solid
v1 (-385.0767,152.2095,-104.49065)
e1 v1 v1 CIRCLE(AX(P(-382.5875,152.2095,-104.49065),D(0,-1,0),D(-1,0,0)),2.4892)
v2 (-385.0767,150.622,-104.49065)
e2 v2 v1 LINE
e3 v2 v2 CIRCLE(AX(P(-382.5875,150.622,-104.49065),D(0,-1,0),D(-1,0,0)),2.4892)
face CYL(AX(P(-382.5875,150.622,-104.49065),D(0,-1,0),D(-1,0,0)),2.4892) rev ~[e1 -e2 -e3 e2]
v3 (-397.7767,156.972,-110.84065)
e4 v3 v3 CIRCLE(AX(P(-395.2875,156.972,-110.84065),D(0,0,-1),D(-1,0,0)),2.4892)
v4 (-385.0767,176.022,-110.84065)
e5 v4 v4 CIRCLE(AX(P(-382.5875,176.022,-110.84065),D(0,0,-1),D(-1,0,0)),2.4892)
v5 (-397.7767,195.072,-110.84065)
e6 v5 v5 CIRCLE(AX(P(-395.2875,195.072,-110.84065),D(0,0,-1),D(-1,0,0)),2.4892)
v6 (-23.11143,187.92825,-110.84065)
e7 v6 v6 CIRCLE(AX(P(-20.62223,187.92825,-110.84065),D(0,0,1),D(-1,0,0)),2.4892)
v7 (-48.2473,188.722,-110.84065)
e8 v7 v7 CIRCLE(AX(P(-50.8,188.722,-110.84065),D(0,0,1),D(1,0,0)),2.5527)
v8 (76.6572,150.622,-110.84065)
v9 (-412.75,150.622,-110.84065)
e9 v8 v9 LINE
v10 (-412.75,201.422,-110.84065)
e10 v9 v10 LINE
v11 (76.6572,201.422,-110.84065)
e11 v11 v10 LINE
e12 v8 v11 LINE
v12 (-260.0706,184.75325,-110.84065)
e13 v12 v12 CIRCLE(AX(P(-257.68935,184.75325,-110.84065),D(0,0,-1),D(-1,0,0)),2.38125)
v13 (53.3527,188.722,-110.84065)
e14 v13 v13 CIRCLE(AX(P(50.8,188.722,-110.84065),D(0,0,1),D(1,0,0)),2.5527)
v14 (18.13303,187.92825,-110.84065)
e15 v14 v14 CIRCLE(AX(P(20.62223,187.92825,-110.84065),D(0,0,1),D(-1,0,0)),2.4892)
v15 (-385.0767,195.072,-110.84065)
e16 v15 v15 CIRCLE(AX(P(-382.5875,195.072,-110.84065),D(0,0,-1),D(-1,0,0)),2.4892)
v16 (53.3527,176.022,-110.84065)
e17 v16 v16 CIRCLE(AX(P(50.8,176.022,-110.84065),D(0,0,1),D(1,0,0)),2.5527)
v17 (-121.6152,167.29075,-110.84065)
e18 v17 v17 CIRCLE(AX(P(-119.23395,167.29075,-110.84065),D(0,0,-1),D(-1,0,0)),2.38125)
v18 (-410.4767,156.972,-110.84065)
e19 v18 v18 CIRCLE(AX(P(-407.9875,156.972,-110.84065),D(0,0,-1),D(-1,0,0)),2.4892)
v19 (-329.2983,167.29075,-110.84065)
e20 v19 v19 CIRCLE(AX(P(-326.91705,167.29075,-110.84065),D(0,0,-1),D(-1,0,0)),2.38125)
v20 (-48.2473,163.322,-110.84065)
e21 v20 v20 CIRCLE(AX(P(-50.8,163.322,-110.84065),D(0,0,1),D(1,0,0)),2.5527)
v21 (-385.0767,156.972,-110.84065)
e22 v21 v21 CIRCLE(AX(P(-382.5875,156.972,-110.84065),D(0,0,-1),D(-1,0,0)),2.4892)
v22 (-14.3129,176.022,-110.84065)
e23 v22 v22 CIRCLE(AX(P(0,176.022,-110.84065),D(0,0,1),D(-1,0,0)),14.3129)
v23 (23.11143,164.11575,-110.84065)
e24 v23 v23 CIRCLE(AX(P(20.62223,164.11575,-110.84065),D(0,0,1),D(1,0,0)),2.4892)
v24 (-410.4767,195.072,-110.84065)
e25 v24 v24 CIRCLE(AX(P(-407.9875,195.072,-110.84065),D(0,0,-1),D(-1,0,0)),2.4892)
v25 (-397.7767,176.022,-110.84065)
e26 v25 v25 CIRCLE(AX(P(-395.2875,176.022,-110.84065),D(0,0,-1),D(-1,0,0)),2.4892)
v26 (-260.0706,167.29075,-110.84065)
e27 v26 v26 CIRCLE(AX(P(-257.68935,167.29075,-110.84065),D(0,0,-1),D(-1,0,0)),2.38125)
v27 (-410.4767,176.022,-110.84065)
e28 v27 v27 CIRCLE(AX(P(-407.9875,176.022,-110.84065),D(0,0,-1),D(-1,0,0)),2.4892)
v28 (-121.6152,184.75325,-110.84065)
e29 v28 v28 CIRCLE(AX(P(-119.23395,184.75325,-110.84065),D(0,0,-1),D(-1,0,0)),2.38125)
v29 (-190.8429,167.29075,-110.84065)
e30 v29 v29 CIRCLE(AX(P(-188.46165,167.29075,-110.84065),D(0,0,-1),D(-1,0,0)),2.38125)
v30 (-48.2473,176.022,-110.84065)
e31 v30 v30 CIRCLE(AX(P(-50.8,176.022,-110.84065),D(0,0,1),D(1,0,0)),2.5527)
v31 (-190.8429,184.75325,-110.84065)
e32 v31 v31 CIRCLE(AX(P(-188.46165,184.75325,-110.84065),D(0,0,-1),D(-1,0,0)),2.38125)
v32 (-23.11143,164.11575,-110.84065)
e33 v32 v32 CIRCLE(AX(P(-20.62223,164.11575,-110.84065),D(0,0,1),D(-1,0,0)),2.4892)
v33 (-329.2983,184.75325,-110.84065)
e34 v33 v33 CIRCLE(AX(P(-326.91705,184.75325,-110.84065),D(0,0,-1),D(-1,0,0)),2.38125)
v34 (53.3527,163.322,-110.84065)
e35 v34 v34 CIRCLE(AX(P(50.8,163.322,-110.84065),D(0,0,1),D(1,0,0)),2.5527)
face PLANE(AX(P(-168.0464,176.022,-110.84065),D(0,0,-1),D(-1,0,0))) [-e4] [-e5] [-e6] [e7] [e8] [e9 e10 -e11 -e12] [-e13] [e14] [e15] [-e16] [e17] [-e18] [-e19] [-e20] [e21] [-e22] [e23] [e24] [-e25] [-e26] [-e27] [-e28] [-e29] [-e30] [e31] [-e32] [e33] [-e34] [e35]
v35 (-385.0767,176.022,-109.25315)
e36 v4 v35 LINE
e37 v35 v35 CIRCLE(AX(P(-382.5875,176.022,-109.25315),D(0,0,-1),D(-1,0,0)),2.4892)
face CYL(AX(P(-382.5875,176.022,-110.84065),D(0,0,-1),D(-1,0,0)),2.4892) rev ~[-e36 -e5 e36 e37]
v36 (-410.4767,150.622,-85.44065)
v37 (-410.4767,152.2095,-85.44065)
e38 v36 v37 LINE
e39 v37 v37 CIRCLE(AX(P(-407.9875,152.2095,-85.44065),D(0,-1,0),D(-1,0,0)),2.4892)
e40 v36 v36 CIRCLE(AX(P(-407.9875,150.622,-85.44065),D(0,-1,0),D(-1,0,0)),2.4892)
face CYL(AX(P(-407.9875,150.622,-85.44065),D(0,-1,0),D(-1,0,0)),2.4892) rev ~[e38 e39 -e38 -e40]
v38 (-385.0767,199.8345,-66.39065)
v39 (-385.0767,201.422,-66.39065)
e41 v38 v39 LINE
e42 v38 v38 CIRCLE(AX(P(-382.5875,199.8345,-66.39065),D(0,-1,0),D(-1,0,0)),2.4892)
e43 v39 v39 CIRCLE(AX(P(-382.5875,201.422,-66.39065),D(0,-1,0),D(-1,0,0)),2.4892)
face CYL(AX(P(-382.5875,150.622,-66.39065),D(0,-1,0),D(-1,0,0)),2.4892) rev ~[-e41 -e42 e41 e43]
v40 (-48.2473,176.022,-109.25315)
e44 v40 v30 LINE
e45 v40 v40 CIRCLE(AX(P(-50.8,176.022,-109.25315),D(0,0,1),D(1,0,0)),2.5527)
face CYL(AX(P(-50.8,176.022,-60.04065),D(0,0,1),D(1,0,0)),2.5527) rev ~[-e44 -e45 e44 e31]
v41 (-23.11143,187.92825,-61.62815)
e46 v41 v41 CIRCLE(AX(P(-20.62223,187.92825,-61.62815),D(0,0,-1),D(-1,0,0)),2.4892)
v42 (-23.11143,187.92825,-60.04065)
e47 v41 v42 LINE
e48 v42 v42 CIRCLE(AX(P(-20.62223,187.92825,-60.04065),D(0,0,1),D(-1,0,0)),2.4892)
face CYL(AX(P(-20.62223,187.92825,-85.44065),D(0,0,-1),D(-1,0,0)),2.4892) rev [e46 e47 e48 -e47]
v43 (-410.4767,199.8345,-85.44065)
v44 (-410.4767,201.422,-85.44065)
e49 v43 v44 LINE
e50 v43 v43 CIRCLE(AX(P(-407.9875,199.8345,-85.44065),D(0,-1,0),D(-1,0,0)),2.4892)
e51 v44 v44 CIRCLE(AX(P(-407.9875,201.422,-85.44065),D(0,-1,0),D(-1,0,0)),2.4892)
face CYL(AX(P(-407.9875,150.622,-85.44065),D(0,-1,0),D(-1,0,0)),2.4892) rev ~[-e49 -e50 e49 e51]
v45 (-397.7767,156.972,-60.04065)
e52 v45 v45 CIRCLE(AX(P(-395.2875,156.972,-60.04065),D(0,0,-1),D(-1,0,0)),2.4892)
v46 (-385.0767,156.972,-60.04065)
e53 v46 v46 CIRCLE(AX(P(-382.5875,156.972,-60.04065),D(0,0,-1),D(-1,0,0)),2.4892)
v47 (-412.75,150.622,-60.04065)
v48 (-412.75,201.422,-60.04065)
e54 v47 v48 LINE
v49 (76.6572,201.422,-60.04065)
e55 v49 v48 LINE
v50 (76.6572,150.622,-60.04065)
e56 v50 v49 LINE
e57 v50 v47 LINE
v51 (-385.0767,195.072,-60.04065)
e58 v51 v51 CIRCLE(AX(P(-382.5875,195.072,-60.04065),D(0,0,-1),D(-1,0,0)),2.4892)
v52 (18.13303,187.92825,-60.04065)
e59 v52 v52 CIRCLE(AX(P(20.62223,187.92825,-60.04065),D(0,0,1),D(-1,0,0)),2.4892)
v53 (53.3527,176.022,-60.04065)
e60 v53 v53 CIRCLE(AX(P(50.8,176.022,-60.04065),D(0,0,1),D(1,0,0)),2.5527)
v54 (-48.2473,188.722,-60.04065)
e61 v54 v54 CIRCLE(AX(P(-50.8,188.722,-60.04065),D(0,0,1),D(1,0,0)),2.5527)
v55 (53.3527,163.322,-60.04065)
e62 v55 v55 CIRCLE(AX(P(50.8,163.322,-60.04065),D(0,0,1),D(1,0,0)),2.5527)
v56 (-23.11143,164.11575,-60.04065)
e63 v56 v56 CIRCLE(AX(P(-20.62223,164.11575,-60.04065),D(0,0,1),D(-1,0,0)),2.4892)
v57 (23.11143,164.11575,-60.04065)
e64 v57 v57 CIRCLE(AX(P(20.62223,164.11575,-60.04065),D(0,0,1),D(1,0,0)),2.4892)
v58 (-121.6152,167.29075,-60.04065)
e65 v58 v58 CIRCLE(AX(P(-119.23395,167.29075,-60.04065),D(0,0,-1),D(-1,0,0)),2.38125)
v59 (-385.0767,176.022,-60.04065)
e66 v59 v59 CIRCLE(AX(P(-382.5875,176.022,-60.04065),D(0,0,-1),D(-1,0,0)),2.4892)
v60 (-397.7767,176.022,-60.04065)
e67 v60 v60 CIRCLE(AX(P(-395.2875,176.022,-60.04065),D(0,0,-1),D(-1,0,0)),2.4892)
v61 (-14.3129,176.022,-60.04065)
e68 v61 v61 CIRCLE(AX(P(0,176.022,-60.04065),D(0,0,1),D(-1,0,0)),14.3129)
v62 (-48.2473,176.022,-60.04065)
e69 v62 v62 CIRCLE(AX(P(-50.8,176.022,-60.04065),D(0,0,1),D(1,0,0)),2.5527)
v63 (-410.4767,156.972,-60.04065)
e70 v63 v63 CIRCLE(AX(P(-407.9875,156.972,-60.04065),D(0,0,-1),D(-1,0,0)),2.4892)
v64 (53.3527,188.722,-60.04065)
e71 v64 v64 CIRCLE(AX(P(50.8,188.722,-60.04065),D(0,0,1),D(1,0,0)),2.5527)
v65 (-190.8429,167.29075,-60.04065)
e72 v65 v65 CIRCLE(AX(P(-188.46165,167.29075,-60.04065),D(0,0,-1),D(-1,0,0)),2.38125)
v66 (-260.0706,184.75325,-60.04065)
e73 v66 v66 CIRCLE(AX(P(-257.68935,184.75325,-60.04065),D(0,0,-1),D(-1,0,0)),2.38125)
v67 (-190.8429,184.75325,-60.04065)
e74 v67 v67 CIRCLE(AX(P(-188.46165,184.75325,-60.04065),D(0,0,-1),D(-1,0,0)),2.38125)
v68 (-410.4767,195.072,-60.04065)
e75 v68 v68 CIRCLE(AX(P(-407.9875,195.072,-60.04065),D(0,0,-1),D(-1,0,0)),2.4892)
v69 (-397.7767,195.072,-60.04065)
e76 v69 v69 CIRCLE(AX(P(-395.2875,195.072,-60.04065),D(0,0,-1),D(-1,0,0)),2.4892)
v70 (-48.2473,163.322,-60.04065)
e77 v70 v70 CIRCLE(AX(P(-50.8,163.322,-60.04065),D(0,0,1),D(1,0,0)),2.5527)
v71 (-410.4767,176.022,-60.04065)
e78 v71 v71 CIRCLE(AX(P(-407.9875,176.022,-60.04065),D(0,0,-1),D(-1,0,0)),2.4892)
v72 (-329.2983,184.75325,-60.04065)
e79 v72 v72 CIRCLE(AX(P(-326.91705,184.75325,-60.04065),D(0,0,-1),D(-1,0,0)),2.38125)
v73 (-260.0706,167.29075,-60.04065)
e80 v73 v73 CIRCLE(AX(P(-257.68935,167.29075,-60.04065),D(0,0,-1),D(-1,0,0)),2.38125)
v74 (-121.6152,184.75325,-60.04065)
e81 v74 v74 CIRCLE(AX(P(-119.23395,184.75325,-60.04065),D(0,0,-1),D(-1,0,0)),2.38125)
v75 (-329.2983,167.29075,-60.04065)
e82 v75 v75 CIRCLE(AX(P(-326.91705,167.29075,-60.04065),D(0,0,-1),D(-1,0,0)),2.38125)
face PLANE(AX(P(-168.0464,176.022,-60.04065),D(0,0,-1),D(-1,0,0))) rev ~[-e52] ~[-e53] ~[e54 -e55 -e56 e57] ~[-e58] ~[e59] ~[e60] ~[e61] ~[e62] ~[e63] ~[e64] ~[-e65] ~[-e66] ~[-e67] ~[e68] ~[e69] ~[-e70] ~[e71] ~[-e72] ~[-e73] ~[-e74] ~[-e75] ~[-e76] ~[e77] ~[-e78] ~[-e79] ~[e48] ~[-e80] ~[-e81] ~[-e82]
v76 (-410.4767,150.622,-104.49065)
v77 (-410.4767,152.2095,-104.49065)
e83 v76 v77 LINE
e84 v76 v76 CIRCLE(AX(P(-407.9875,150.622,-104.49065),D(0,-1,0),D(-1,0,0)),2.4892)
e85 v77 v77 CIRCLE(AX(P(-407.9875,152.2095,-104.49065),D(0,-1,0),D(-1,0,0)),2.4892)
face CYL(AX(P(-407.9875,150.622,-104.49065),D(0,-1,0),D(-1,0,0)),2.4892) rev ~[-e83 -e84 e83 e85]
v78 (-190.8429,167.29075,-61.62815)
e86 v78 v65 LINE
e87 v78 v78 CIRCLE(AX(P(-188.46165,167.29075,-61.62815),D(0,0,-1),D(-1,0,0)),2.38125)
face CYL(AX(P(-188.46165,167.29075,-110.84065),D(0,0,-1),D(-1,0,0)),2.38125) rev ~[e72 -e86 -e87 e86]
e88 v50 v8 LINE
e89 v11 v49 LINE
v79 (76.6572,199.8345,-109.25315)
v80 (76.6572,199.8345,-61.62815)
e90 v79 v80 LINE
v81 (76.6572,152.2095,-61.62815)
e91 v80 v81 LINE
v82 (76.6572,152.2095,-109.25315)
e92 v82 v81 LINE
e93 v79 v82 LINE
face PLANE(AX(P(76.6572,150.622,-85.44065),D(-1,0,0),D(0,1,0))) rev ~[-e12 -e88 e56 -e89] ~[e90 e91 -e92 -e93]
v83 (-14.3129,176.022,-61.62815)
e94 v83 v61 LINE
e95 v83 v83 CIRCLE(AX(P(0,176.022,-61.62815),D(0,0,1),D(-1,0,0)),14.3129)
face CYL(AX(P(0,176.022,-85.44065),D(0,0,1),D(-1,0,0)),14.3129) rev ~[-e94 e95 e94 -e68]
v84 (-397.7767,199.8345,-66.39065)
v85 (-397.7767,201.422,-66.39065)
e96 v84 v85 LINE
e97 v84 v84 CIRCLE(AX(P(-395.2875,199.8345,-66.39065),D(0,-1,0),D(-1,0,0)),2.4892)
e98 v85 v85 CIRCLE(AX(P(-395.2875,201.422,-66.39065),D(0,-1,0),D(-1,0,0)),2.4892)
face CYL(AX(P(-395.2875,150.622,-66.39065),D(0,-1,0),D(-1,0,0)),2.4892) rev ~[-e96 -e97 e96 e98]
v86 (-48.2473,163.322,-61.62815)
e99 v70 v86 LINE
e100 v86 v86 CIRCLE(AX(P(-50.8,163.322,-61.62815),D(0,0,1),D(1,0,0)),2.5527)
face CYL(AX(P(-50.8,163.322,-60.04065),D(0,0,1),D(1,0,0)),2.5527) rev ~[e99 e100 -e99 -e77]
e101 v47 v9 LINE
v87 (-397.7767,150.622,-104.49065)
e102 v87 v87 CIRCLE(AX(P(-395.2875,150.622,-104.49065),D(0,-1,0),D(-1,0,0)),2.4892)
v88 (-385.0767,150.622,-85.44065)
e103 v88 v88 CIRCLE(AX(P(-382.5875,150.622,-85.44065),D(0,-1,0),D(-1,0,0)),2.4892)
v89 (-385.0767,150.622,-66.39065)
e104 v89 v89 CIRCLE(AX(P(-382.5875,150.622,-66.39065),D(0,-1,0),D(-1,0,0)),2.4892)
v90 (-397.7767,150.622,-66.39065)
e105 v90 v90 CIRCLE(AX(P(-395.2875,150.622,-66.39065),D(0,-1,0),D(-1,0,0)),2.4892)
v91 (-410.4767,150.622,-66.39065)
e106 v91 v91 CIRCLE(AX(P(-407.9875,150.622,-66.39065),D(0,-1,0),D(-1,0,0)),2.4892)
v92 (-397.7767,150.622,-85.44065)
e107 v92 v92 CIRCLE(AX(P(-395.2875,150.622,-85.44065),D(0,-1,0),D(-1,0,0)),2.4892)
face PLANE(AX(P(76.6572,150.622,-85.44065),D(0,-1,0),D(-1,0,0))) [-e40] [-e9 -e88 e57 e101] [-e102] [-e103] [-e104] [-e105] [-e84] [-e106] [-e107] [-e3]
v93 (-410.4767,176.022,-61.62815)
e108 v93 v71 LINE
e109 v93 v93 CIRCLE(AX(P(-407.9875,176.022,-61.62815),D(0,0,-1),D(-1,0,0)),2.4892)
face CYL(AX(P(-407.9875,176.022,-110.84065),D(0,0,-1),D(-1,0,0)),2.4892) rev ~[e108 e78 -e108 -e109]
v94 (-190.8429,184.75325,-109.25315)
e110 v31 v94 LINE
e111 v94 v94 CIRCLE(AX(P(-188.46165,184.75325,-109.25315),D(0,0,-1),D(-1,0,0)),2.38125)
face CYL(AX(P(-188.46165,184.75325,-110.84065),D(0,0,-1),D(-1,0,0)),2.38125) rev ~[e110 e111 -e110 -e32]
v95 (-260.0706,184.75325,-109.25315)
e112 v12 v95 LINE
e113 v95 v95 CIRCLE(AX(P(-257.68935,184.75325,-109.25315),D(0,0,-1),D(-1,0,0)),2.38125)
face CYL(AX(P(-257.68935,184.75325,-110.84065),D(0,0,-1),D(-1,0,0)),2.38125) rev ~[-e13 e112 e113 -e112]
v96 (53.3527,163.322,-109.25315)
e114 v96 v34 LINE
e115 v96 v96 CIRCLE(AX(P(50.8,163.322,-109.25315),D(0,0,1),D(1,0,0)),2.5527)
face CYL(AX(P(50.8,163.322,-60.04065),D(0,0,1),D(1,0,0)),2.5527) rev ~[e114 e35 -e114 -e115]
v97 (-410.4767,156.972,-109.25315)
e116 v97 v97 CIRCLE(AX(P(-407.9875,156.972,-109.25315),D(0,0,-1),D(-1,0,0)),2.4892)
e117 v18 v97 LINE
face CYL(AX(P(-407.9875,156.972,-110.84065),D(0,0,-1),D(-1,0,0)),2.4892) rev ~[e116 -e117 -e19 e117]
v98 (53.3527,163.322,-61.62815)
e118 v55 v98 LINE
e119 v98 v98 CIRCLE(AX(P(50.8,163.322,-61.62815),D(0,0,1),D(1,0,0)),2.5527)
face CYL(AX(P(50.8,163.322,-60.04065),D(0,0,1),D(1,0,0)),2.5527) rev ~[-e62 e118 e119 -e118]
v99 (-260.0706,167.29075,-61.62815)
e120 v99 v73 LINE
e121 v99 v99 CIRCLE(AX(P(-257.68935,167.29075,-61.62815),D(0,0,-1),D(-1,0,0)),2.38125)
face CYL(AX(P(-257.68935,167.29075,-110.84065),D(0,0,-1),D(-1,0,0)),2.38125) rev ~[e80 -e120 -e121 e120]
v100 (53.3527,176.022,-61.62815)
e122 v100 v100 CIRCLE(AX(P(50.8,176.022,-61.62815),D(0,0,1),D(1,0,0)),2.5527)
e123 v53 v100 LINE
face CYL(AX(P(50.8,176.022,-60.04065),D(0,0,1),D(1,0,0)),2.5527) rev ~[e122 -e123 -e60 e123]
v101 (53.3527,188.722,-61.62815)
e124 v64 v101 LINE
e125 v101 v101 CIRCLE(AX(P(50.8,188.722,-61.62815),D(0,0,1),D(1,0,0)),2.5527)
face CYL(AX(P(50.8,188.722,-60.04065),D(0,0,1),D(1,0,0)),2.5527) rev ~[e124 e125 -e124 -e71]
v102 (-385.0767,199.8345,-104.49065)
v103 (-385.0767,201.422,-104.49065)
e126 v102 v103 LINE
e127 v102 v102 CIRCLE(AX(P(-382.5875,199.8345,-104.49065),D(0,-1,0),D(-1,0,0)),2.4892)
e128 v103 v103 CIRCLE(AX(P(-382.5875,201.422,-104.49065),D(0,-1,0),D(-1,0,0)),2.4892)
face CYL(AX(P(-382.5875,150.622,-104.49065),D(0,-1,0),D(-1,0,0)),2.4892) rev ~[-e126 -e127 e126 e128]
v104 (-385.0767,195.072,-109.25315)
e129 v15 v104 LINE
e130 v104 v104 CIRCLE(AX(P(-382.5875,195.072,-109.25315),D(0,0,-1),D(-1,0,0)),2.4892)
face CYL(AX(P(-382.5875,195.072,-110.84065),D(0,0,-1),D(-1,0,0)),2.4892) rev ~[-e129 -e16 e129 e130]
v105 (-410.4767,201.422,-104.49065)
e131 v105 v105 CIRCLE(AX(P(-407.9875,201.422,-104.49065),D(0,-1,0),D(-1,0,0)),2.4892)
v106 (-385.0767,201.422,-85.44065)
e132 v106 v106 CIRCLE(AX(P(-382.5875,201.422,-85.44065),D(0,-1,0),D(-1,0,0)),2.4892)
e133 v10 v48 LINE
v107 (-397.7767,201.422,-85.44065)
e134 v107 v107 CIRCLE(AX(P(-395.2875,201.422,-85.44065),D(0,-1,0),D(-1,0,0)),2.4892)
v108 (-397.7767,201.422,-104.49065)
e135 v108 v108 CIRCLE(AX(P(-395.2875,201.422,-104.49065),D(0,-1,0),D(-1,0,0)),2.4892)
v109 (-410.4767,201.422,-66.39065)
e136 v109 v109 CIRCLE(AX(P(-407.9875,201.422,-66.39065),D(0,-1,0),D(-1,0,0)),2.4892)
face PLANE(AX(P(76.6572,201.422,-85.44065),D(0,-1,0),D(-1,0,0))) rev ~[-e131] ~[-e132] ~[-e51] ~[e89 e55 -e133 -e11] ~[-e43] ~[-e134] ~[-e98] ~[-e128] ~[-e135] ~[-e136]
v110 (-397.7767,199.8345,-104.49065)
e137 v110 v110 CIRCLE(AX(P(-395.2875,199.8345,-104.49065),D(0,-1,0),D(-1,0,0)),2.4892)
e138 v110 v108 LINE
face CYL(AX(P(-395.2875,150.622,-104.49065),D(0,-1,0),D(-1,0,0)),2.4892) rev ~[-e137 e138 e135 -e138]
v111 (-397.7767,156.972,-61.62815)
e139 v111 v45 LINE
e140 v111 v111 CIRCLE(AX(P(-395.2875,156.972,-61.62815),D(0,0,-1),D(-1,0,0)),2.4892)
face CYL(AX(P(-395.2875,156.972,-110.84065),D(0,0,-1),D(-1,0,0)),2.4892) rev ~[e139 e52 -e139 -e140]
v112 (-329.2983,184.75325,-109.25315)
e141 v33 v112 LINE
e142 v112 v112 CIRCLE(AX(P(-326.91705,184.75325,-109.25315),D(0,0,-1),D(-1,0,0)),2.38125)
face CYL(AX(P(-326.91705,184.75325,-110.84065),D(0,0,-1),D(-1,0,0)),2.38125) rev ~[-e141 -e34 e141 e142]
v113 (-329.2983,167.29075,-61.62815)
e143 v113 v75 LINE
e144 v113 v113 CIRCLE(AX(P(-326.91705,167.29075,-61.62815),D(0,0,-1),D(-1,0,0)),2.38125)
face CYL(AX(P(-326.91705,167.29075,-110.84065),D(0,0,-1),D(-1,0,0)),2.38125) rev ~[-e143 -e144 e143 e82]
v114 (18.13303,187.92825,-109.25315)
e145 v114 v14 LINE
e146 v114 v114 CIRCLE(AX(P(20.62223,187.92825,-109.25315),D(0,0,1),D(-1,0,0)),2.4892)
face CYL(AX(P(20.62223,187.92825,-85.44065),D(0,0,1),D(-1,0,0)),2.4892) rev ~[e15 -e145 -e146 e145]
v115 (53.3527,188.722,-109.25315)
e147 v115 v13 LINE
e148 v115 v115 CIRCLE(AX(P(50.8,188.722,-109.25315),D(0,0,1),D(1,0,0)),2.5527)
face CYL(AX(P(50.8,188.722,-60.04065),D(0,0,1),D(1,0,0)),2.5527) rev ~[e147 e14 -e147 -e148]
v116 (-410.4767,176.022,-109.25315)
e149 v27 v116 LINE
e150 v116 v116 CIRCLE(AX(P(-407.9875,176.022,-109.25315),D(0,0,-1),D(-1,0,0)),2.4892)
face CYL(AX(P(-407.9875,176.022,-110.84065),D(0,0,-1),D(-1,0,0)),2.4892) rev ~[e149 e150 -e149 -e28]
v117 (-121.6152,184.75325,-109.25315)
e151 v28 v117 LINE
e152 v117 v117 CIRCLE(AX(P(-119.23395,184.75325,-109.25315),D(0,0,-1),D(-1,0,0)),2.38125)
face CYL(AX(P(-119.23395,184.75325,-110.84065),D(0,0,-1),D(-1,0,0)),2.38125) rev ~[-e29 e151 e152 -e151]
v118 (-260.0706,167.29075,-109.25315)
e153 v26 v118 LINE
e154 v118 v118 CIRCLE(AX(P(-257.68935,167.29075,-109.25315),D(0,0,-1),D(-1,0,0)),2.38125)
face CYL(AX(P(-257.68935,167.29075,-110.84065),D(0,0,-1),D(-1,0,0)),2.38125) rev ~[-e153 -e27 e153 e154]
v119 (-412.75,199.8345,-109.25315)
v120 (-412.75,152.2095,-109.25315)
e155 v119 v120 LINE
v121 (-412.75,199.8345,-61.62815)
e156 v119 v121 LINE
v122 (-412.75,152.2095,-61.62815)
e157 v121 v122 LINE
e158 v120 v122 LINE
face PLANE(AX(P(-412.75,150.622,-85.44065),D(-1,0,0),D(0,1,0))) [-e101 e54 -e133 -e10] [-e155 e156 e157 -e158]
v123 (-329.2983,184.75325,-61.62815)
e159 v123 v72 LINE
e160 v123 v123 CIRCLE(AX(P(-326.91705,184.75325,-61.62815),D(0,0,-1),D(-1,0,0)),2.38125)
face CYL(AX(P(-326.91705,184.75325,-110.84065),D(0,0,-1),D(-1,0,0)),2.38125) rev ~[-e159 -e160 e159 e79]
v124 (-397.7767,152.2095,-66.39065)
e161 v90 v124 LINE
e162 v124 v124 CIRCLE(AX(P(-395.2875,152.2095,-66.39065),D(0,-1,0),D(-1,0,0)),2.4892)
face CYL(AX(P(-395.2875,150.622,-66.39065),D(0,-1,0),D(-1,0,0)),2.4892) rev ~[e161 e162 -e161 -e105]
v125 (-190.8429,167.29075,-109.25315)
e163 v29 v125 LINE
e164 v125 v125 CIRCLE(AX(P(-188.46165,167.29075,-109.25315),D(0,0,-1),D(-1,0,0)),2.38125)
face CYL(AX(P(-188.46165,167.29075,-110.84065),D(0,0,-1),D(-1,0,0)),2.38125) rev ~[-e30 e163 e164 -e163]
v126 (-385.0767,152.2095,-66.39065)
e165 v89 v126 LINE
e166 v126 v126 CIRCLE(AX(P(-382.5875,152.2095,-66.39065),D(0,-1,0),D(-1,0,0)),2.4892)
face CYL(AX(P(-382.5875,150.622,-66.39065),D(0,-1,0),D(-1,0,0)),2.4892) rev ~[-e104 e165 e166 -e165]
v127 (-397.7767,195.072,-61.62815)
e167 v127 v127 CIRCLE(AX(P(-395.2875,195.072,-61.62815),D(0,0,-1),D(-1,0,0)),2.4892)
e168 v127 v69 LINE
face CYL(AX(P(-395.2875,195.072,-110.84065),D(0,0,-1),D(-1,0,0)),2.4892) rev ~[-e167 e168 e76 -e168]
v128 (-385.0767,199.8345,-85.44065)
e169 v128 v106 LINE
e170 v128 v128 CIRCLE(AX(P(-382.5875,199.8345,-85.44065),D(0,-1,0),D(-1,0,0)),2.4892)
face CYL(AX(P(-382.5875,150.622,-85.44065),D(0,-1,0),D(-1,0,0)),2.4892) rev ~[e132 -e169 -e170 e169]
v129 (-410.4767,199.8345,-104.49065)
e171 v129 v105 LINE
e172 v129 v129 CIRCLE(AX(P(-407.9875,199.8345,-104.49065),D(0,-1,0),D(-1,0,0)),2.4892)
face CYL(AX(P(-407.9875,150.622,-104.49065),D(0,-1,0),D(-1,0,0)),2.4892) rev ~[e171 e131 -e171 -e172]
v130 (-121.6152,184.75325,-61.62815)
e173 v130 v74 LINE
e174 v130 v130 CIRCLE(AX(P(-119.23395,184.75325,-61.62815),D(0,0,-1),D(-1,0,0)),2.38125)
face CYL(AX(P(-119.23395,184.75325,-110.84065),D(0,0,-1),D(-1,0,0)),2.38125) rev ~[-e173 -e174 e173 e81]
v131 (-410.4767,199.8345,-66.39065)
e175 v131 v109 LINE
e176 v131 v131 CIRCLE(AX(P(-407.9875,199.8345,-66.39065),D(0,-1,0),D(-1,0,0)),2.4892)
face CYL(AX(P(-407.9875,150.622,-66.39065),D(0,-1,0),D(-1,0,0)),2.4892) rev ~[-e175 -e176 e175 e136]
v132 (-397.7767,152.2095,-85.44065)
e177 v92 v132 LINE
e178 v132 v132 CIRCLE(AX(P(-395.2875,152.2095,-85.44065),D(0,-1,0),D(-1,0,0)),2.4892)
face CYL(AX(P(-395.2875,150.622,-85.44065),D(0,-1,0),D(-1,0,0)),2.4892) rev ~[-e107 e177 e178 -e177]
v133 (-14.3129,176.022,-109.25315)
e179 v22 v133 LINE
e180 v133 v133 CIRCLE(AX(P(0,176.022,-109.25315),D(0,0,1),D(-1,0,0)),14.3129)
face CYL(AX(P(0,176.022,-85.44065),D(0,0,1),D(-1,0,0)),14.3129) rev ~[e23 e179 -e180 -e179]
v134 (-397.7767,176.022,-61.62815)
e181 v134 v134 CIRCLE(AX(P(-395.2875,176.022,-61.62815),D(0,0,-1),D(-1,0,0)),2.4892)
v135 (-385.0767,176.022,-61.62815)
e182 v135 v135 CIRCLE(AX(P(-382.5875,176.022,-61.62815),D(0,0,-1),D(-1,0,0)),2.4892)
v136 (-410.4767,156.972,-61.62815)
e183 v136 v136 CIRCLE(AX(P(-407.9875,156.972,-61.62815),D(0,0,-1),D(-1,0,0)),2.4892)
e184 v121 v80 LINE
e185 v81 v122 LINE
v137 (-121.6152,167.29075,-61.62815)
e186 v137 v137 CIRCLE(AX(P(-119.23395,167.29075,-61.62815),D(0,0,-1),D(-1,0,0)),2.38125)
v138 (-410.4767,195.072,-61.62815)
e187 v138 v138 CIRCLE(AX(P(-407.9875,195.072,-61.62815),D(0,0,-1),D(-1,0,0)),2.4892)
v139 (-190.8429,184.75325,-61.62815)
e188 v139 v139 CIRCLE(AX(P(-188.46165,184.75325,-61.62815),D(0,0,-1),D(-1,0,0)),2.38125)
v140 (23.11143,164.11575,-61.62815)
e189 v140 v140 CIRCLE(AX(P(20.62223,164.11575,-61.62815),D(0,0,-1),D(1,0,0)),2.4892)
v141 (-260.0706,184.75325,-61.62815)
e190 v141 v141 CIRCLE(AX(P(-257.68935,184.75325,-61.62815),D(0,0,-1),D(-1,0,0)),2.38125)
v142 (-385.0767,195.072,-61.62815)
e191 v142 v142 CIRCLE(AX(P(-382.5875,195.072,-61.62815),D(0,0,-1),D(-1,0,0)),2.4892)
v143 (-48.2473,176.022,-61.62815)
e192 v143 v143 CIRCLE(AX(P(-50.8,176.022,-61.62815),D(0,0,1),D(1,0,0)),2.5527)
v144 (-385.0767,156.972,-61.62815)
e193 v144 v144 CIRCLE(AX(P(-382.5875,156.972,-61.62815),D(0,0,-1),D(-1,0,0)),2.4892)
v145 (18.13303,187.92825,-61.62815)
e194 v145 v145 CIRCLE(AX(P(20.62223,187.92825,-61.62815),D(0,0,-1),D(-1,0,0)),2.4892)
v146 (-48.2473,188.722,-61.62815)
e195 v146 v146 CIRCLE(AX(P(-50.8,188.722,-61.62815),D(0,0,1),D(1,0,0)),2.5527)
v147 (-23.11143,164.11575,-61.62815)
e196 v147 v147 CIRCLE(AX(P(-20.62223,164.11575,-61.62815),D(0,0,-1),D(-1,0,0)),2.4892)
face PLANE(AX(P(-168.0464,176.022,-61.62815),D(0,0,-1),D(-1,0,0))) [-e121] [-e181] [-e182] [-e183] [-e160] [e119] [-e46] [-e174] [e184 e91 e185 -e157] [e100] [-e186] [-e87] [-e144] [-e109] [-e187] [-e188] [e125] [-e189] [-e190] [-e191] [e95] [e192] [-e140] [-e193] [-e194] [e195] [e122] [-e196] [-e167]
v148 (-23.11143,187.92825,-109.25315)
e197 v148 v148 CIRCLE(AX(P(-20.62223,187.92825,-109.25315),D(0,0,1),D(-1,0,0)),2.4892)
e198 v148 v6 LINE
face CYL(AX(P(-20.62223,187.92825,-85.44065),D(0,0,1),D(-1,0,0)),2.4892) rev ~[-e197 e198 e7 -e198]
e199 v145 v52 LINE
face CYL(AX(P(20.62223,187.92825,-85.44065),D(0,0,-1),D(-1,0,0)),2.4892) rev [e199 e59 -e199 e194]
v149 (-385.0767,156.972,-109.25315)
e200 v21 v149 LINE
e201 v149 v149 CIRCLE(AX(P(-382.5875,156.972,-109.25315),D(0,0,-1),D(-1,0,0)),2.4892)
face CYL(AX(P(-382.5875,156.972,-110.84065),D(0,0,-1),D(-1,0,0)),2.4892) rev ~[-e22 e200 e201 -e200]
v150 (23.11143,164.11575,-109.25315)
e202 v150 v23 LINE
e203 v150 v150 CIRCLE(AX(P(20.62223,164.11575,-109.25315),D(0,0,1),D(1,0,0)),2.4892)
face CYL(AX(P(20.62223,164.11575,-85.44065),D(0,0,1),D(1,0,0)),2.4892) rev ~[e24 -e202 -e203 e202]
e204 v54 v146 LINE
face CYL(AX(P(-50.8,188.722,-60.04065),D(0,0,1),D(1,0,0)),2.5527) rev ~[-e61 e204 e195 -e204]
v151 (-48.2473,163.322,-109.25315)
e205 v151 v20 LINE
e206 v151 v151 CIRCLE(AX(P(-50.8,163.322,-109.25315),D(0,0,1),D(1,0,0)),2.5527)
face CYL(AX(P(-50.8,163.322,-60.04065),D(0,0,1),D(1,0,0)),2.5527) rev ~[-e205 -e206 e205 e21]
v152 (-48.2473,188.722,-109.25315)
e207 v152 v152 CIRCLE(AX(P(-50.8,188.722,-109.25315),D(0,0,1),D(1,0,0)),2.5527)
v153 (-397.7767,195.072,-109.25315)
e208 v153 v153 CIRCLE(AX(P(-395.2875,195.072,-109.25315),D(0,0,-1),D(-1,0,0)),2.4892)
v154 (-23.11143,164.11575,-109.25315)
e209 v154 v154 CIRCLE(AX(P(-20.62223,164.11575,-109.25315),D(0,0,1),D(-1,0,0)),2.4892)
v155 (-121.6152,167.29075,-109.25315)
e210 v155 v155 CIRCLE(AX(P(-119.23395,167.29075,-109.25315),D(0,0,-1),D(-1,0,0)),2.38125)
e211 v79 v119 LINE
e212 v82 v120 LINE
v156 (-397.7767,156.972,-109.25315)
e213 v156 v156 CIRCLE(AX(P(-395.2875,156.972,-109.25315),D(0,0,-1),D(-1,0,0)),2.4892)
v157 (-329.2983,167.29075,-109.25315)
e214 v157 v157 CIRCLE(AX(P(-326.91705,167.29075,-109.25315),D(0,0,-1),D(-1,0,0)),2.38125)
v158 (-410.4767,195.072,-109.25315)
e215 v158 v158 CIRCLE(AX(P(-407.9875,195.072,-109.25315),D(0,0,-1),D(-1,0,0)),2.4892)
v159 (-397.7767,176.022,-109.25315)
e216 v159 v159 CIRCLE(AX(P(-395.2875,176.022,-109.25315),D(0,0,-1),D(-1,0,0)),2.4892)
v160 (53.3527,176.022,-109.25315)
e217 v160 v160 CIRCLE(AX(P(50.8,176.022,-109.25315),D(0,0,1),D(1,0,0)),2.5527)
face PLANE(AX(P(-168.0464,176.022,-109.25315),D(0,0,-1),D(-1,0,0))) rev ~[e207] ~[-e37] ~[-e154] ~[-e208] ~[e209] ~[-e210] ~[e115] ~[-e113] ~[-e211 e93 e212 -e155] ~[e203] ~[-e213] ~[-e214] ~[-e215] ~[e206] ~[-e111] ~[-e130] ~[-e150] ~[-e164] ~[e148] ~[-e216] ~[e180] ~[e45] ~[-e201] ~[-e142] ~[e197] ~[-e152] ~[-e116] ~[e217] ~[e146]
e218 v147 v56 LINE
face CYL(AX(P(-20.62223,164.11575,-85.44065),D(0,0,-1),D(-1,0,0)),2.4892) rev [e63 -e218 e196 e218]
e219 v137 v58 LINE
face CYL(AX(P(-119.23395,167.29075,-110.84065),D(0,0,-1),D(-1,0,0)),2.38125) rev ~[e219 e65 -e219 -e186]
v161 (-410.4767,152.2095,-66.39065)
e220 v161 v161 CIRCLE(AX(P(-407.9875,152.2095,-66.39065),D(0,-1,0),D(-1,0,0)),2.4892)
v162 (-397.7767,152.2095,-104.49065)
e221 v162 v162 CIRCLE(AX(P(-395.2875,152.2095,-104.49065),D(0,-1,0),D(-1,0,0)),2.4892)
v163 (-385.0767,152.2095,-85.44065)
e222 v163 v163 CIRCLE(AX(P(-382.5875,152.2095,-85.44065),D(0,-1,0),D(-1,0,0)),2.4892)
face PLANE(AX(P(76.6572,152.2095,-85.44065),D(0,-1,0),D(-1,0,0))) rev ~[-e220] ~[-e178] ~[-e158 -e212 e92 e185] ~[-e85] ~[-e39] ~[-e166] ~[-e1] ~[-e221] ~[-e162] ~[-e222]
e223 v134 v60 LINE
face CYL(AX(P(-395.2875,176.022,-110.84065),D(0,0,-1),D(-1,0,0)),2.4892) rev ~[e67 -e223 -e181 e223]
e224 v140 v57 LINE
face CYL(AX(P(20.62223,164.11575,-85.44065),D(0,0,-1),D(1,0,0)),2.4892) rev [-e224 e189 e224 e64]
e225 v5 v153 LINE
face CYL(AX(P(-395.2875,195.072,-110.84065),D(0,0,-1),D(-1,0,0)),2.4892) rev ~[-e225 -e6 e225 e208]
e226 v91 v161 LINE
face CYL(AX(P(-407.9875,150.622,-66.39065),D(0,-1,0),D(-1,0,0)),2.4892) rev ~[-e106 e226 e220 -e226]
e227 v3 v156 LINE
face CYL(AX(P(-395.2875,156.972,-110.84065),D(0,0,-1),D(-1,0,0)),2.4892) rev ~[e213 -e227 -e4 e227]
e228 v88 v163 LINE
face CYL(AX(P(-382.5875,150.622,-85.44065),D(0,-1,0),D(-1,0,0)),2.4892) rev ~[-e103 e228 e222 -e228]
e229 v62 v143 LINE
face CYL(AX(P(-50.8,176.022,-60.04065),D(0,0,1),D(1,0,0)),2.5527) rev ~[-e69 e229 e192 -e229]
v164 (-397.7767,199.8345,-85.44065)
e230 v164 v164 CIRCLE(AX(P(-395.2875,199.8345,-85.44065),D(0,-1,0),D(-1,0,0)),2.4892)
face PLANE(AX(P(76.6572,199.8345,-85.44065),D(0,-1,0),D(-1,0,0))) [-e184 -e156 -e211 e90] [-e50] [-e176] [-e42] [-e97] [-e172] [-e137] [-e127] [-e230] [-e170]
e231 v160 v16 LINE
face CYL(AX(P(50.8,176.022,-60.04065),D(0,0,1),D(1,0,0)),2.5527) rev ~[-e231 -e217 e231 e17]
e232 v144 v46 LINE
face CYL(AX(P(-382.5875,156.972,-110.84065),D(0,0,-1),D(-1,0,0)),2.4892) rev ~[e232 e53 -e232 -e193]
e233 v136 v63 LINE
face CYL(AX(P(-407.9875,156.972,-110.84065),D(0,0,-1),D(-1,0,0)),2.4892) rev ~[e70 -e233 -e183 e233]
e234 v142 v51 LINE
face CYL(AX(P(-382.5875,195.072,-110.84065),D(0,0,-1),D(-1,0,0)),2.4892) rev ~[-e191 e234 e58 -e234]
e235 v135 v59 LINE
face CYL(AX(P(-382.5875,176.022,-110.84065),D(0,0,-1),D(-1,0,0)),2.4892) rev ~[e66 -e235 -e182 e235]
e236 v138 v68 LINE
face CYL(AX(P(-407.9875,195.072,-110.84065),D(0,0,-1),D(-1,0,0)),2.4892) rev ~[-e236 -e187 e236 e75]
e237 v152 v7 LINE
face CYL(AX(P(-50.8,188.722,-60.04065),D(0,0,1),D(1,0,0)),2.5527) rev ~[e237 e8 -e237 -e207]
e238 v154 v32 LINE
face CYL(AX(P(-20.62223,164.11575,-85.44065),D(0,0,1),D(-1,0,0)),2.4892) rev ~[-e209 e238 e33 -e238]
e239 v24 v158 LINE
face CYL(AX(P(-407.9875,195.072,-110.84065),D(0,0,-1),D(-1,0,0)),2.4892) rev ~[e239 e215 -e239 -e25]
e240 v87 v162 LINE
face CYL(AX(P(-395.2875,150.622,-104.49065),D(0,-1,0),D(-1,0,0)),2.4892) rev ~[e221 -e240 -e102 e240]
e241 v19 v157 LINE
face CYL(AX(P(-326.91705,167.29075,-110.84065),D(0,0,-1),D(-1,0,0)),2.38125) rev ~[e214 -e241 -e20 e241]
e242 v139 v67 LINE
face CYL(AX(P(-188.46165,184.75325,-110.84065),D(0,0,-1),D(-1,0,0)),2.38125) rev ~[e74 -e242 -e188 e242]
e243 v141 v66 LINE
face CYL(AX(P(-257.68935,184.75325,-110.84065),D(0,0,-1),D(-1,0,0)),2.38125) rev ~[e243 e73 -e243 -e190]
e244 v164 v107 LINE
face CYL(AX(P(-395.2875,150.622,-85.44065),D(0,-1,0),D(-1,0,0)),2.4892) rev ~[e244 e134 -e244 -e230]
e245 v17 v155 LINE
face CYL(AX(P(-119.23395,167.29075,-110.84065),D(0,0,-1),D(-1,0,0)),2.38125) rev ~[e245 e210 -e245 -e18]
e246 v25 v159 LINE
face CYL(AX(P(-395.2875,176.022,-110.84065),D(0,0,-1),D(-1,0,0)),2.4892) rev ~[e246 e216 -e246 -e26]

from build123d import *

# Parameters (mm, degrees)
CROQUIS5_W              = 660.4
CROQUIS5_H              = 25.4
SALIENTE_EXTRUIR1_DEPTH = 25.4
CROQUIS6_W              = 50.8
CROQUIS6_H              = 133.35
SALIENTE_EXTRUIR2_DEPTH = 25.4
VACIADO1_T              = -3.175
VACIADO2_T              = -3.175
CROQUIS7_R              = 2.4892
CORTAR_EXTRUIR1_DEPTH   = 402.404309499
CROQUIS9_W              = 489.4072
CROQUIS9_H              = 50.8
SALIENTE_EXTRUIR3_DEPTH = 25.4
VACIADO3_T              = -1.5875
CROQUIS10_R             = 2.4892
CROQUIS10_R_2           = 14.3129
CORTAR_EXTRUIR2_DEPTH   = 25.4
CROQUIS11_R             = 2.5527
CORTAR_EXTRUIR3_DEPTH   = 463.075777967
CROQUIS49_R             = 2.4892
CORTAR_EXTRUIR19_DEPTH  = 463.075777967
MATRIZC1_COUNT          = 2
MATRIZC1_ANGLE          = 90
CROQUIS50_R             = 2.38125
CORTAR_EXTRUIR20_DEPTH  = 463.075777967


with BuildPart() as part:
    # Croquis5 → Saliente-Extruir1 (new body)
    with BuildSketch(Plane.XY):
        with Locations((0, 80.772)):
            Rectangle(CROQUIS5_W, CROQUIS5_H)
    extrude(amount=-SALIENTE_EXTRUIR1_DEPTH)

    # Vaciado2
    vaciado2_openings = [part.faces().sort_by_distance(p)[0] for p in [
        (330.2, 80.772, -12.7),
        (-330.2, 80.772, -12.7),
    ]]
    offset(amount=VACIADO2_T, openings=vaciado2_openings, kind=Kind.INTERSECTION)


with BuildPart() as body_2:
    # Croquis6 → Saliente-Extruir2 (new body)
    with BuildSketch(Plane.XY):
        with Locations((0, 160.147)):
            Rectangle(CROQUIS6_W, CROQUIS6_H)
    extrude(amount=-SALIENTE_EXTRUIR2_DEPTH)

    # Vaciado1
    vaciado1_openings = [body_2.faces().sort_by_distance(p)[0] for p in [
        (0, 226.822, -12.7),
        (0, 93.472, -12.7),
    ]]
    offset(amount=VACIADO1_T, openings=vaciado1_openings, kind=Kind.INTERSECTION)

    # Croquis7 → Cortar-Extruir1 (cut, through all)
    with BuildSketch(Plane.XY):
        with Locations((0, 199.8345)):
            Circle(CROQUIS7_R)
        with Locations((0, 152.2095)):
            Circle(CROQUIS7_R)
        with BuildLine():
            Line((-11.1506, 158.5214), (11.1506, 158.5214))
            ThreePointArc((11.1506, 158.5214), (15.640728061, 160.381271939), (17.5006, 164.8714))
            Line((17.5006, 164.8714), (17.5006, 187.1726))
            ThreePointArc((17.5006, 187.1726), (15.640728061, 191.662728061), (11.1506, 193.5226))
            Line((11.1506, 193.5226), (-11.1506, 193.5226))
            ThreePointArc((-11.1506, 193.5226), (-15.640728061, 191.662728061), (-17.5006, 187.1726))
            Line((-17.5006, 187.1726), (-17.5006, 164.8714))
            ThreePointArc((-17.5006, 164.8714), (-15.640728061, 160.381271939), (-11.1506, 158.5214))
        make_face()
    extrude(amount=-CORTAR_EXTRUIR1_DEPTH, mode=Mode.SUBTRACT)


with BuildPart() as body_3:
    # Croquis9 → Saliente-Extruir3 (new, symmetric)
    with BuildSketch(Plane(origin=(0, 0, -85.440650048), x_dir=(-1, 0, 0), z_dir=(0, 0, -1))):
        with Locations((168.0464, 176.022)):
            Rectangle(CROQUIS9_W, CROQUIS9_H)
    extrude(amount=SALIENTE_EXTRUIR3_DEPTH, both=True)

    # Vaciado3
    vaciado3_openings = [body_3.faces().sort_by_distance(p)[0] for p in [
        (-412.75, 176.022, -85.440650048),
        (76.6572, 176.022, -85.440650048),
    ]]
    offset(amount=VACIADO3_T, openings=vaciado3_openings, kind=Kind.INTERSECTION)

    # Croquis10 → Cortar-Extruir2 (cut, symmetric)
    with BuildSketch(Plane.XY.offset(-85.440650048)):
        with Locations(Location((-20.622229928, 187.92825, 0), (0, 0, 180))):
            Circle(CROQUIS10_R)
        with Locations(Location((-20.622229928, 164.11575, 0), (0, 0, 180))):
            Circle(CROQUIS10_R)
        with Locations((20.622229928, 164.11575)):
            Circle(CROQUIS10_R)
        with Locations(Location((20.622229928, 187.92825, 0), (0, 0, 180))):
            Circle(CROQUIS10_R)
        with Locations(Location((0, 176.022, 0), (0, 0, 180))):
            Circle(CROQUIS10_R_2)
    extrude(amount=CORTAR_EXTRUIR2_DEPTH, both=True, mode=Mode.SUBTRACT)

    # Croquis11 → Cortar-Extruir3 (cut, through all)
    with BuildSketch(Plane.XY.offset(-60.040650048)):
        with Locations((-50.8, 188.722)):
            Circle(CROQUIS11_R)
        with Locations((-50.8, 176.022)):
            Circle(CROQUIS11_R)
        with Locations((-50.8, 163.322)):
            Circle(CROQUIS11_R)
        with Locations((50.8, 163.322)):
            Circle(CROQUIS11_R)
        with Locations((50.8, 176.022)):
            Circle(CROQUIS11_R)
        with Locations((50.8, 188.722)):
            Circle(CROQUIS11_R)
    extrude(amount=-CORTAR_EXTRUIR3_DEPTH, mode=Mode.SUBTRACT)

    # Croquis49 → Cortar-Extruir19 (cut, through all)
    with BuildSketch(Plane(origin=(0, 0, -110.840650048), x_dir=(-1, 0, 0), z_dir=(0, 0, -1))):
        with Locations((407.9875, 195.072)):
            Circle(CROQUIS49_R)
        with Locations((407.9875, 176.022)):
            Circle(CROQUIS49_R)
        with Locations((407.9875, 156.972)):
            Circle(CROQUIS49_R)
        with Locations((395.2875, 195.072)):
            Circle(CROQUIS49_R)
        with Locations((395.2875, 176.022)):
            Circle(CROQUIS49_R)
        with Locations((395.2875, 156.972)):
            Circle(CROQUIS49_R)
        with Locations((382.5875, 195.072)):
            Circle(CROQUIS49_R)
        with Locations((382.5875, 176.022)):
            Circle(CROQUIS49_R)
        with Locations((382.5875, 156.972)):
            Circle(CROQUIS49_R)
    cortar_extruir19 = extrude(amount=-CORTAR_EXTRUIR19_DEPTH, mode=Mode.SUBTRACT)

    # MatrizC1: Cortar-Extruir19 ×2 about axis
    matrizc1_axis = Axis((101.12756, 176.022, -85.440650048), (-1, 0, 0))
    for i in range(1, MATRIZC1_COUNT):
        add(cortar_extruir19.rotate(matrizc1_axis, i * MATRIZC1_ANGLE / (MATRIZC1_COUNT - 1)), mode=Mode.SUBTRACT)

    # Croquis50 → Cortar-Extruir20 (cut, through all)
    with BuildSketch(Plane(origin=(0, 0, -110.840650048), x_dir=(-1, 0, 0), z_dir=(0, 0, -1))):
        with Locations((326.91705, 167.29075)):
            Circle(CROQUIS50_R)
        with Locations((326.91705, 184.75325)):
            Circle(CROQUIS50_R)
        with Locations((257.68935, 167.29075)):
            Circle(CROQUIS50_R)
        with Locations((257.68935, 184.75325)):
            Circle(CROQUIS50_R)
        with Locations((188.46165, 167.29075)):
            Circle(CROQUIS50_R)
        with Locations((188.46165, 184.75325)):
            Circle(CROQUIS50_R)
        with Locations((119.23395, 167.29075)):
            Circle(CROQUIS50_R)
        with Locations((119.23395, 184.75325)):
            Circle(CROQUIS50_R)
    extrude(amount=-CORTAR_EXTRUIR20_DEPTH, mode=Mode.SUBTRACT)


solid = body_3.part
